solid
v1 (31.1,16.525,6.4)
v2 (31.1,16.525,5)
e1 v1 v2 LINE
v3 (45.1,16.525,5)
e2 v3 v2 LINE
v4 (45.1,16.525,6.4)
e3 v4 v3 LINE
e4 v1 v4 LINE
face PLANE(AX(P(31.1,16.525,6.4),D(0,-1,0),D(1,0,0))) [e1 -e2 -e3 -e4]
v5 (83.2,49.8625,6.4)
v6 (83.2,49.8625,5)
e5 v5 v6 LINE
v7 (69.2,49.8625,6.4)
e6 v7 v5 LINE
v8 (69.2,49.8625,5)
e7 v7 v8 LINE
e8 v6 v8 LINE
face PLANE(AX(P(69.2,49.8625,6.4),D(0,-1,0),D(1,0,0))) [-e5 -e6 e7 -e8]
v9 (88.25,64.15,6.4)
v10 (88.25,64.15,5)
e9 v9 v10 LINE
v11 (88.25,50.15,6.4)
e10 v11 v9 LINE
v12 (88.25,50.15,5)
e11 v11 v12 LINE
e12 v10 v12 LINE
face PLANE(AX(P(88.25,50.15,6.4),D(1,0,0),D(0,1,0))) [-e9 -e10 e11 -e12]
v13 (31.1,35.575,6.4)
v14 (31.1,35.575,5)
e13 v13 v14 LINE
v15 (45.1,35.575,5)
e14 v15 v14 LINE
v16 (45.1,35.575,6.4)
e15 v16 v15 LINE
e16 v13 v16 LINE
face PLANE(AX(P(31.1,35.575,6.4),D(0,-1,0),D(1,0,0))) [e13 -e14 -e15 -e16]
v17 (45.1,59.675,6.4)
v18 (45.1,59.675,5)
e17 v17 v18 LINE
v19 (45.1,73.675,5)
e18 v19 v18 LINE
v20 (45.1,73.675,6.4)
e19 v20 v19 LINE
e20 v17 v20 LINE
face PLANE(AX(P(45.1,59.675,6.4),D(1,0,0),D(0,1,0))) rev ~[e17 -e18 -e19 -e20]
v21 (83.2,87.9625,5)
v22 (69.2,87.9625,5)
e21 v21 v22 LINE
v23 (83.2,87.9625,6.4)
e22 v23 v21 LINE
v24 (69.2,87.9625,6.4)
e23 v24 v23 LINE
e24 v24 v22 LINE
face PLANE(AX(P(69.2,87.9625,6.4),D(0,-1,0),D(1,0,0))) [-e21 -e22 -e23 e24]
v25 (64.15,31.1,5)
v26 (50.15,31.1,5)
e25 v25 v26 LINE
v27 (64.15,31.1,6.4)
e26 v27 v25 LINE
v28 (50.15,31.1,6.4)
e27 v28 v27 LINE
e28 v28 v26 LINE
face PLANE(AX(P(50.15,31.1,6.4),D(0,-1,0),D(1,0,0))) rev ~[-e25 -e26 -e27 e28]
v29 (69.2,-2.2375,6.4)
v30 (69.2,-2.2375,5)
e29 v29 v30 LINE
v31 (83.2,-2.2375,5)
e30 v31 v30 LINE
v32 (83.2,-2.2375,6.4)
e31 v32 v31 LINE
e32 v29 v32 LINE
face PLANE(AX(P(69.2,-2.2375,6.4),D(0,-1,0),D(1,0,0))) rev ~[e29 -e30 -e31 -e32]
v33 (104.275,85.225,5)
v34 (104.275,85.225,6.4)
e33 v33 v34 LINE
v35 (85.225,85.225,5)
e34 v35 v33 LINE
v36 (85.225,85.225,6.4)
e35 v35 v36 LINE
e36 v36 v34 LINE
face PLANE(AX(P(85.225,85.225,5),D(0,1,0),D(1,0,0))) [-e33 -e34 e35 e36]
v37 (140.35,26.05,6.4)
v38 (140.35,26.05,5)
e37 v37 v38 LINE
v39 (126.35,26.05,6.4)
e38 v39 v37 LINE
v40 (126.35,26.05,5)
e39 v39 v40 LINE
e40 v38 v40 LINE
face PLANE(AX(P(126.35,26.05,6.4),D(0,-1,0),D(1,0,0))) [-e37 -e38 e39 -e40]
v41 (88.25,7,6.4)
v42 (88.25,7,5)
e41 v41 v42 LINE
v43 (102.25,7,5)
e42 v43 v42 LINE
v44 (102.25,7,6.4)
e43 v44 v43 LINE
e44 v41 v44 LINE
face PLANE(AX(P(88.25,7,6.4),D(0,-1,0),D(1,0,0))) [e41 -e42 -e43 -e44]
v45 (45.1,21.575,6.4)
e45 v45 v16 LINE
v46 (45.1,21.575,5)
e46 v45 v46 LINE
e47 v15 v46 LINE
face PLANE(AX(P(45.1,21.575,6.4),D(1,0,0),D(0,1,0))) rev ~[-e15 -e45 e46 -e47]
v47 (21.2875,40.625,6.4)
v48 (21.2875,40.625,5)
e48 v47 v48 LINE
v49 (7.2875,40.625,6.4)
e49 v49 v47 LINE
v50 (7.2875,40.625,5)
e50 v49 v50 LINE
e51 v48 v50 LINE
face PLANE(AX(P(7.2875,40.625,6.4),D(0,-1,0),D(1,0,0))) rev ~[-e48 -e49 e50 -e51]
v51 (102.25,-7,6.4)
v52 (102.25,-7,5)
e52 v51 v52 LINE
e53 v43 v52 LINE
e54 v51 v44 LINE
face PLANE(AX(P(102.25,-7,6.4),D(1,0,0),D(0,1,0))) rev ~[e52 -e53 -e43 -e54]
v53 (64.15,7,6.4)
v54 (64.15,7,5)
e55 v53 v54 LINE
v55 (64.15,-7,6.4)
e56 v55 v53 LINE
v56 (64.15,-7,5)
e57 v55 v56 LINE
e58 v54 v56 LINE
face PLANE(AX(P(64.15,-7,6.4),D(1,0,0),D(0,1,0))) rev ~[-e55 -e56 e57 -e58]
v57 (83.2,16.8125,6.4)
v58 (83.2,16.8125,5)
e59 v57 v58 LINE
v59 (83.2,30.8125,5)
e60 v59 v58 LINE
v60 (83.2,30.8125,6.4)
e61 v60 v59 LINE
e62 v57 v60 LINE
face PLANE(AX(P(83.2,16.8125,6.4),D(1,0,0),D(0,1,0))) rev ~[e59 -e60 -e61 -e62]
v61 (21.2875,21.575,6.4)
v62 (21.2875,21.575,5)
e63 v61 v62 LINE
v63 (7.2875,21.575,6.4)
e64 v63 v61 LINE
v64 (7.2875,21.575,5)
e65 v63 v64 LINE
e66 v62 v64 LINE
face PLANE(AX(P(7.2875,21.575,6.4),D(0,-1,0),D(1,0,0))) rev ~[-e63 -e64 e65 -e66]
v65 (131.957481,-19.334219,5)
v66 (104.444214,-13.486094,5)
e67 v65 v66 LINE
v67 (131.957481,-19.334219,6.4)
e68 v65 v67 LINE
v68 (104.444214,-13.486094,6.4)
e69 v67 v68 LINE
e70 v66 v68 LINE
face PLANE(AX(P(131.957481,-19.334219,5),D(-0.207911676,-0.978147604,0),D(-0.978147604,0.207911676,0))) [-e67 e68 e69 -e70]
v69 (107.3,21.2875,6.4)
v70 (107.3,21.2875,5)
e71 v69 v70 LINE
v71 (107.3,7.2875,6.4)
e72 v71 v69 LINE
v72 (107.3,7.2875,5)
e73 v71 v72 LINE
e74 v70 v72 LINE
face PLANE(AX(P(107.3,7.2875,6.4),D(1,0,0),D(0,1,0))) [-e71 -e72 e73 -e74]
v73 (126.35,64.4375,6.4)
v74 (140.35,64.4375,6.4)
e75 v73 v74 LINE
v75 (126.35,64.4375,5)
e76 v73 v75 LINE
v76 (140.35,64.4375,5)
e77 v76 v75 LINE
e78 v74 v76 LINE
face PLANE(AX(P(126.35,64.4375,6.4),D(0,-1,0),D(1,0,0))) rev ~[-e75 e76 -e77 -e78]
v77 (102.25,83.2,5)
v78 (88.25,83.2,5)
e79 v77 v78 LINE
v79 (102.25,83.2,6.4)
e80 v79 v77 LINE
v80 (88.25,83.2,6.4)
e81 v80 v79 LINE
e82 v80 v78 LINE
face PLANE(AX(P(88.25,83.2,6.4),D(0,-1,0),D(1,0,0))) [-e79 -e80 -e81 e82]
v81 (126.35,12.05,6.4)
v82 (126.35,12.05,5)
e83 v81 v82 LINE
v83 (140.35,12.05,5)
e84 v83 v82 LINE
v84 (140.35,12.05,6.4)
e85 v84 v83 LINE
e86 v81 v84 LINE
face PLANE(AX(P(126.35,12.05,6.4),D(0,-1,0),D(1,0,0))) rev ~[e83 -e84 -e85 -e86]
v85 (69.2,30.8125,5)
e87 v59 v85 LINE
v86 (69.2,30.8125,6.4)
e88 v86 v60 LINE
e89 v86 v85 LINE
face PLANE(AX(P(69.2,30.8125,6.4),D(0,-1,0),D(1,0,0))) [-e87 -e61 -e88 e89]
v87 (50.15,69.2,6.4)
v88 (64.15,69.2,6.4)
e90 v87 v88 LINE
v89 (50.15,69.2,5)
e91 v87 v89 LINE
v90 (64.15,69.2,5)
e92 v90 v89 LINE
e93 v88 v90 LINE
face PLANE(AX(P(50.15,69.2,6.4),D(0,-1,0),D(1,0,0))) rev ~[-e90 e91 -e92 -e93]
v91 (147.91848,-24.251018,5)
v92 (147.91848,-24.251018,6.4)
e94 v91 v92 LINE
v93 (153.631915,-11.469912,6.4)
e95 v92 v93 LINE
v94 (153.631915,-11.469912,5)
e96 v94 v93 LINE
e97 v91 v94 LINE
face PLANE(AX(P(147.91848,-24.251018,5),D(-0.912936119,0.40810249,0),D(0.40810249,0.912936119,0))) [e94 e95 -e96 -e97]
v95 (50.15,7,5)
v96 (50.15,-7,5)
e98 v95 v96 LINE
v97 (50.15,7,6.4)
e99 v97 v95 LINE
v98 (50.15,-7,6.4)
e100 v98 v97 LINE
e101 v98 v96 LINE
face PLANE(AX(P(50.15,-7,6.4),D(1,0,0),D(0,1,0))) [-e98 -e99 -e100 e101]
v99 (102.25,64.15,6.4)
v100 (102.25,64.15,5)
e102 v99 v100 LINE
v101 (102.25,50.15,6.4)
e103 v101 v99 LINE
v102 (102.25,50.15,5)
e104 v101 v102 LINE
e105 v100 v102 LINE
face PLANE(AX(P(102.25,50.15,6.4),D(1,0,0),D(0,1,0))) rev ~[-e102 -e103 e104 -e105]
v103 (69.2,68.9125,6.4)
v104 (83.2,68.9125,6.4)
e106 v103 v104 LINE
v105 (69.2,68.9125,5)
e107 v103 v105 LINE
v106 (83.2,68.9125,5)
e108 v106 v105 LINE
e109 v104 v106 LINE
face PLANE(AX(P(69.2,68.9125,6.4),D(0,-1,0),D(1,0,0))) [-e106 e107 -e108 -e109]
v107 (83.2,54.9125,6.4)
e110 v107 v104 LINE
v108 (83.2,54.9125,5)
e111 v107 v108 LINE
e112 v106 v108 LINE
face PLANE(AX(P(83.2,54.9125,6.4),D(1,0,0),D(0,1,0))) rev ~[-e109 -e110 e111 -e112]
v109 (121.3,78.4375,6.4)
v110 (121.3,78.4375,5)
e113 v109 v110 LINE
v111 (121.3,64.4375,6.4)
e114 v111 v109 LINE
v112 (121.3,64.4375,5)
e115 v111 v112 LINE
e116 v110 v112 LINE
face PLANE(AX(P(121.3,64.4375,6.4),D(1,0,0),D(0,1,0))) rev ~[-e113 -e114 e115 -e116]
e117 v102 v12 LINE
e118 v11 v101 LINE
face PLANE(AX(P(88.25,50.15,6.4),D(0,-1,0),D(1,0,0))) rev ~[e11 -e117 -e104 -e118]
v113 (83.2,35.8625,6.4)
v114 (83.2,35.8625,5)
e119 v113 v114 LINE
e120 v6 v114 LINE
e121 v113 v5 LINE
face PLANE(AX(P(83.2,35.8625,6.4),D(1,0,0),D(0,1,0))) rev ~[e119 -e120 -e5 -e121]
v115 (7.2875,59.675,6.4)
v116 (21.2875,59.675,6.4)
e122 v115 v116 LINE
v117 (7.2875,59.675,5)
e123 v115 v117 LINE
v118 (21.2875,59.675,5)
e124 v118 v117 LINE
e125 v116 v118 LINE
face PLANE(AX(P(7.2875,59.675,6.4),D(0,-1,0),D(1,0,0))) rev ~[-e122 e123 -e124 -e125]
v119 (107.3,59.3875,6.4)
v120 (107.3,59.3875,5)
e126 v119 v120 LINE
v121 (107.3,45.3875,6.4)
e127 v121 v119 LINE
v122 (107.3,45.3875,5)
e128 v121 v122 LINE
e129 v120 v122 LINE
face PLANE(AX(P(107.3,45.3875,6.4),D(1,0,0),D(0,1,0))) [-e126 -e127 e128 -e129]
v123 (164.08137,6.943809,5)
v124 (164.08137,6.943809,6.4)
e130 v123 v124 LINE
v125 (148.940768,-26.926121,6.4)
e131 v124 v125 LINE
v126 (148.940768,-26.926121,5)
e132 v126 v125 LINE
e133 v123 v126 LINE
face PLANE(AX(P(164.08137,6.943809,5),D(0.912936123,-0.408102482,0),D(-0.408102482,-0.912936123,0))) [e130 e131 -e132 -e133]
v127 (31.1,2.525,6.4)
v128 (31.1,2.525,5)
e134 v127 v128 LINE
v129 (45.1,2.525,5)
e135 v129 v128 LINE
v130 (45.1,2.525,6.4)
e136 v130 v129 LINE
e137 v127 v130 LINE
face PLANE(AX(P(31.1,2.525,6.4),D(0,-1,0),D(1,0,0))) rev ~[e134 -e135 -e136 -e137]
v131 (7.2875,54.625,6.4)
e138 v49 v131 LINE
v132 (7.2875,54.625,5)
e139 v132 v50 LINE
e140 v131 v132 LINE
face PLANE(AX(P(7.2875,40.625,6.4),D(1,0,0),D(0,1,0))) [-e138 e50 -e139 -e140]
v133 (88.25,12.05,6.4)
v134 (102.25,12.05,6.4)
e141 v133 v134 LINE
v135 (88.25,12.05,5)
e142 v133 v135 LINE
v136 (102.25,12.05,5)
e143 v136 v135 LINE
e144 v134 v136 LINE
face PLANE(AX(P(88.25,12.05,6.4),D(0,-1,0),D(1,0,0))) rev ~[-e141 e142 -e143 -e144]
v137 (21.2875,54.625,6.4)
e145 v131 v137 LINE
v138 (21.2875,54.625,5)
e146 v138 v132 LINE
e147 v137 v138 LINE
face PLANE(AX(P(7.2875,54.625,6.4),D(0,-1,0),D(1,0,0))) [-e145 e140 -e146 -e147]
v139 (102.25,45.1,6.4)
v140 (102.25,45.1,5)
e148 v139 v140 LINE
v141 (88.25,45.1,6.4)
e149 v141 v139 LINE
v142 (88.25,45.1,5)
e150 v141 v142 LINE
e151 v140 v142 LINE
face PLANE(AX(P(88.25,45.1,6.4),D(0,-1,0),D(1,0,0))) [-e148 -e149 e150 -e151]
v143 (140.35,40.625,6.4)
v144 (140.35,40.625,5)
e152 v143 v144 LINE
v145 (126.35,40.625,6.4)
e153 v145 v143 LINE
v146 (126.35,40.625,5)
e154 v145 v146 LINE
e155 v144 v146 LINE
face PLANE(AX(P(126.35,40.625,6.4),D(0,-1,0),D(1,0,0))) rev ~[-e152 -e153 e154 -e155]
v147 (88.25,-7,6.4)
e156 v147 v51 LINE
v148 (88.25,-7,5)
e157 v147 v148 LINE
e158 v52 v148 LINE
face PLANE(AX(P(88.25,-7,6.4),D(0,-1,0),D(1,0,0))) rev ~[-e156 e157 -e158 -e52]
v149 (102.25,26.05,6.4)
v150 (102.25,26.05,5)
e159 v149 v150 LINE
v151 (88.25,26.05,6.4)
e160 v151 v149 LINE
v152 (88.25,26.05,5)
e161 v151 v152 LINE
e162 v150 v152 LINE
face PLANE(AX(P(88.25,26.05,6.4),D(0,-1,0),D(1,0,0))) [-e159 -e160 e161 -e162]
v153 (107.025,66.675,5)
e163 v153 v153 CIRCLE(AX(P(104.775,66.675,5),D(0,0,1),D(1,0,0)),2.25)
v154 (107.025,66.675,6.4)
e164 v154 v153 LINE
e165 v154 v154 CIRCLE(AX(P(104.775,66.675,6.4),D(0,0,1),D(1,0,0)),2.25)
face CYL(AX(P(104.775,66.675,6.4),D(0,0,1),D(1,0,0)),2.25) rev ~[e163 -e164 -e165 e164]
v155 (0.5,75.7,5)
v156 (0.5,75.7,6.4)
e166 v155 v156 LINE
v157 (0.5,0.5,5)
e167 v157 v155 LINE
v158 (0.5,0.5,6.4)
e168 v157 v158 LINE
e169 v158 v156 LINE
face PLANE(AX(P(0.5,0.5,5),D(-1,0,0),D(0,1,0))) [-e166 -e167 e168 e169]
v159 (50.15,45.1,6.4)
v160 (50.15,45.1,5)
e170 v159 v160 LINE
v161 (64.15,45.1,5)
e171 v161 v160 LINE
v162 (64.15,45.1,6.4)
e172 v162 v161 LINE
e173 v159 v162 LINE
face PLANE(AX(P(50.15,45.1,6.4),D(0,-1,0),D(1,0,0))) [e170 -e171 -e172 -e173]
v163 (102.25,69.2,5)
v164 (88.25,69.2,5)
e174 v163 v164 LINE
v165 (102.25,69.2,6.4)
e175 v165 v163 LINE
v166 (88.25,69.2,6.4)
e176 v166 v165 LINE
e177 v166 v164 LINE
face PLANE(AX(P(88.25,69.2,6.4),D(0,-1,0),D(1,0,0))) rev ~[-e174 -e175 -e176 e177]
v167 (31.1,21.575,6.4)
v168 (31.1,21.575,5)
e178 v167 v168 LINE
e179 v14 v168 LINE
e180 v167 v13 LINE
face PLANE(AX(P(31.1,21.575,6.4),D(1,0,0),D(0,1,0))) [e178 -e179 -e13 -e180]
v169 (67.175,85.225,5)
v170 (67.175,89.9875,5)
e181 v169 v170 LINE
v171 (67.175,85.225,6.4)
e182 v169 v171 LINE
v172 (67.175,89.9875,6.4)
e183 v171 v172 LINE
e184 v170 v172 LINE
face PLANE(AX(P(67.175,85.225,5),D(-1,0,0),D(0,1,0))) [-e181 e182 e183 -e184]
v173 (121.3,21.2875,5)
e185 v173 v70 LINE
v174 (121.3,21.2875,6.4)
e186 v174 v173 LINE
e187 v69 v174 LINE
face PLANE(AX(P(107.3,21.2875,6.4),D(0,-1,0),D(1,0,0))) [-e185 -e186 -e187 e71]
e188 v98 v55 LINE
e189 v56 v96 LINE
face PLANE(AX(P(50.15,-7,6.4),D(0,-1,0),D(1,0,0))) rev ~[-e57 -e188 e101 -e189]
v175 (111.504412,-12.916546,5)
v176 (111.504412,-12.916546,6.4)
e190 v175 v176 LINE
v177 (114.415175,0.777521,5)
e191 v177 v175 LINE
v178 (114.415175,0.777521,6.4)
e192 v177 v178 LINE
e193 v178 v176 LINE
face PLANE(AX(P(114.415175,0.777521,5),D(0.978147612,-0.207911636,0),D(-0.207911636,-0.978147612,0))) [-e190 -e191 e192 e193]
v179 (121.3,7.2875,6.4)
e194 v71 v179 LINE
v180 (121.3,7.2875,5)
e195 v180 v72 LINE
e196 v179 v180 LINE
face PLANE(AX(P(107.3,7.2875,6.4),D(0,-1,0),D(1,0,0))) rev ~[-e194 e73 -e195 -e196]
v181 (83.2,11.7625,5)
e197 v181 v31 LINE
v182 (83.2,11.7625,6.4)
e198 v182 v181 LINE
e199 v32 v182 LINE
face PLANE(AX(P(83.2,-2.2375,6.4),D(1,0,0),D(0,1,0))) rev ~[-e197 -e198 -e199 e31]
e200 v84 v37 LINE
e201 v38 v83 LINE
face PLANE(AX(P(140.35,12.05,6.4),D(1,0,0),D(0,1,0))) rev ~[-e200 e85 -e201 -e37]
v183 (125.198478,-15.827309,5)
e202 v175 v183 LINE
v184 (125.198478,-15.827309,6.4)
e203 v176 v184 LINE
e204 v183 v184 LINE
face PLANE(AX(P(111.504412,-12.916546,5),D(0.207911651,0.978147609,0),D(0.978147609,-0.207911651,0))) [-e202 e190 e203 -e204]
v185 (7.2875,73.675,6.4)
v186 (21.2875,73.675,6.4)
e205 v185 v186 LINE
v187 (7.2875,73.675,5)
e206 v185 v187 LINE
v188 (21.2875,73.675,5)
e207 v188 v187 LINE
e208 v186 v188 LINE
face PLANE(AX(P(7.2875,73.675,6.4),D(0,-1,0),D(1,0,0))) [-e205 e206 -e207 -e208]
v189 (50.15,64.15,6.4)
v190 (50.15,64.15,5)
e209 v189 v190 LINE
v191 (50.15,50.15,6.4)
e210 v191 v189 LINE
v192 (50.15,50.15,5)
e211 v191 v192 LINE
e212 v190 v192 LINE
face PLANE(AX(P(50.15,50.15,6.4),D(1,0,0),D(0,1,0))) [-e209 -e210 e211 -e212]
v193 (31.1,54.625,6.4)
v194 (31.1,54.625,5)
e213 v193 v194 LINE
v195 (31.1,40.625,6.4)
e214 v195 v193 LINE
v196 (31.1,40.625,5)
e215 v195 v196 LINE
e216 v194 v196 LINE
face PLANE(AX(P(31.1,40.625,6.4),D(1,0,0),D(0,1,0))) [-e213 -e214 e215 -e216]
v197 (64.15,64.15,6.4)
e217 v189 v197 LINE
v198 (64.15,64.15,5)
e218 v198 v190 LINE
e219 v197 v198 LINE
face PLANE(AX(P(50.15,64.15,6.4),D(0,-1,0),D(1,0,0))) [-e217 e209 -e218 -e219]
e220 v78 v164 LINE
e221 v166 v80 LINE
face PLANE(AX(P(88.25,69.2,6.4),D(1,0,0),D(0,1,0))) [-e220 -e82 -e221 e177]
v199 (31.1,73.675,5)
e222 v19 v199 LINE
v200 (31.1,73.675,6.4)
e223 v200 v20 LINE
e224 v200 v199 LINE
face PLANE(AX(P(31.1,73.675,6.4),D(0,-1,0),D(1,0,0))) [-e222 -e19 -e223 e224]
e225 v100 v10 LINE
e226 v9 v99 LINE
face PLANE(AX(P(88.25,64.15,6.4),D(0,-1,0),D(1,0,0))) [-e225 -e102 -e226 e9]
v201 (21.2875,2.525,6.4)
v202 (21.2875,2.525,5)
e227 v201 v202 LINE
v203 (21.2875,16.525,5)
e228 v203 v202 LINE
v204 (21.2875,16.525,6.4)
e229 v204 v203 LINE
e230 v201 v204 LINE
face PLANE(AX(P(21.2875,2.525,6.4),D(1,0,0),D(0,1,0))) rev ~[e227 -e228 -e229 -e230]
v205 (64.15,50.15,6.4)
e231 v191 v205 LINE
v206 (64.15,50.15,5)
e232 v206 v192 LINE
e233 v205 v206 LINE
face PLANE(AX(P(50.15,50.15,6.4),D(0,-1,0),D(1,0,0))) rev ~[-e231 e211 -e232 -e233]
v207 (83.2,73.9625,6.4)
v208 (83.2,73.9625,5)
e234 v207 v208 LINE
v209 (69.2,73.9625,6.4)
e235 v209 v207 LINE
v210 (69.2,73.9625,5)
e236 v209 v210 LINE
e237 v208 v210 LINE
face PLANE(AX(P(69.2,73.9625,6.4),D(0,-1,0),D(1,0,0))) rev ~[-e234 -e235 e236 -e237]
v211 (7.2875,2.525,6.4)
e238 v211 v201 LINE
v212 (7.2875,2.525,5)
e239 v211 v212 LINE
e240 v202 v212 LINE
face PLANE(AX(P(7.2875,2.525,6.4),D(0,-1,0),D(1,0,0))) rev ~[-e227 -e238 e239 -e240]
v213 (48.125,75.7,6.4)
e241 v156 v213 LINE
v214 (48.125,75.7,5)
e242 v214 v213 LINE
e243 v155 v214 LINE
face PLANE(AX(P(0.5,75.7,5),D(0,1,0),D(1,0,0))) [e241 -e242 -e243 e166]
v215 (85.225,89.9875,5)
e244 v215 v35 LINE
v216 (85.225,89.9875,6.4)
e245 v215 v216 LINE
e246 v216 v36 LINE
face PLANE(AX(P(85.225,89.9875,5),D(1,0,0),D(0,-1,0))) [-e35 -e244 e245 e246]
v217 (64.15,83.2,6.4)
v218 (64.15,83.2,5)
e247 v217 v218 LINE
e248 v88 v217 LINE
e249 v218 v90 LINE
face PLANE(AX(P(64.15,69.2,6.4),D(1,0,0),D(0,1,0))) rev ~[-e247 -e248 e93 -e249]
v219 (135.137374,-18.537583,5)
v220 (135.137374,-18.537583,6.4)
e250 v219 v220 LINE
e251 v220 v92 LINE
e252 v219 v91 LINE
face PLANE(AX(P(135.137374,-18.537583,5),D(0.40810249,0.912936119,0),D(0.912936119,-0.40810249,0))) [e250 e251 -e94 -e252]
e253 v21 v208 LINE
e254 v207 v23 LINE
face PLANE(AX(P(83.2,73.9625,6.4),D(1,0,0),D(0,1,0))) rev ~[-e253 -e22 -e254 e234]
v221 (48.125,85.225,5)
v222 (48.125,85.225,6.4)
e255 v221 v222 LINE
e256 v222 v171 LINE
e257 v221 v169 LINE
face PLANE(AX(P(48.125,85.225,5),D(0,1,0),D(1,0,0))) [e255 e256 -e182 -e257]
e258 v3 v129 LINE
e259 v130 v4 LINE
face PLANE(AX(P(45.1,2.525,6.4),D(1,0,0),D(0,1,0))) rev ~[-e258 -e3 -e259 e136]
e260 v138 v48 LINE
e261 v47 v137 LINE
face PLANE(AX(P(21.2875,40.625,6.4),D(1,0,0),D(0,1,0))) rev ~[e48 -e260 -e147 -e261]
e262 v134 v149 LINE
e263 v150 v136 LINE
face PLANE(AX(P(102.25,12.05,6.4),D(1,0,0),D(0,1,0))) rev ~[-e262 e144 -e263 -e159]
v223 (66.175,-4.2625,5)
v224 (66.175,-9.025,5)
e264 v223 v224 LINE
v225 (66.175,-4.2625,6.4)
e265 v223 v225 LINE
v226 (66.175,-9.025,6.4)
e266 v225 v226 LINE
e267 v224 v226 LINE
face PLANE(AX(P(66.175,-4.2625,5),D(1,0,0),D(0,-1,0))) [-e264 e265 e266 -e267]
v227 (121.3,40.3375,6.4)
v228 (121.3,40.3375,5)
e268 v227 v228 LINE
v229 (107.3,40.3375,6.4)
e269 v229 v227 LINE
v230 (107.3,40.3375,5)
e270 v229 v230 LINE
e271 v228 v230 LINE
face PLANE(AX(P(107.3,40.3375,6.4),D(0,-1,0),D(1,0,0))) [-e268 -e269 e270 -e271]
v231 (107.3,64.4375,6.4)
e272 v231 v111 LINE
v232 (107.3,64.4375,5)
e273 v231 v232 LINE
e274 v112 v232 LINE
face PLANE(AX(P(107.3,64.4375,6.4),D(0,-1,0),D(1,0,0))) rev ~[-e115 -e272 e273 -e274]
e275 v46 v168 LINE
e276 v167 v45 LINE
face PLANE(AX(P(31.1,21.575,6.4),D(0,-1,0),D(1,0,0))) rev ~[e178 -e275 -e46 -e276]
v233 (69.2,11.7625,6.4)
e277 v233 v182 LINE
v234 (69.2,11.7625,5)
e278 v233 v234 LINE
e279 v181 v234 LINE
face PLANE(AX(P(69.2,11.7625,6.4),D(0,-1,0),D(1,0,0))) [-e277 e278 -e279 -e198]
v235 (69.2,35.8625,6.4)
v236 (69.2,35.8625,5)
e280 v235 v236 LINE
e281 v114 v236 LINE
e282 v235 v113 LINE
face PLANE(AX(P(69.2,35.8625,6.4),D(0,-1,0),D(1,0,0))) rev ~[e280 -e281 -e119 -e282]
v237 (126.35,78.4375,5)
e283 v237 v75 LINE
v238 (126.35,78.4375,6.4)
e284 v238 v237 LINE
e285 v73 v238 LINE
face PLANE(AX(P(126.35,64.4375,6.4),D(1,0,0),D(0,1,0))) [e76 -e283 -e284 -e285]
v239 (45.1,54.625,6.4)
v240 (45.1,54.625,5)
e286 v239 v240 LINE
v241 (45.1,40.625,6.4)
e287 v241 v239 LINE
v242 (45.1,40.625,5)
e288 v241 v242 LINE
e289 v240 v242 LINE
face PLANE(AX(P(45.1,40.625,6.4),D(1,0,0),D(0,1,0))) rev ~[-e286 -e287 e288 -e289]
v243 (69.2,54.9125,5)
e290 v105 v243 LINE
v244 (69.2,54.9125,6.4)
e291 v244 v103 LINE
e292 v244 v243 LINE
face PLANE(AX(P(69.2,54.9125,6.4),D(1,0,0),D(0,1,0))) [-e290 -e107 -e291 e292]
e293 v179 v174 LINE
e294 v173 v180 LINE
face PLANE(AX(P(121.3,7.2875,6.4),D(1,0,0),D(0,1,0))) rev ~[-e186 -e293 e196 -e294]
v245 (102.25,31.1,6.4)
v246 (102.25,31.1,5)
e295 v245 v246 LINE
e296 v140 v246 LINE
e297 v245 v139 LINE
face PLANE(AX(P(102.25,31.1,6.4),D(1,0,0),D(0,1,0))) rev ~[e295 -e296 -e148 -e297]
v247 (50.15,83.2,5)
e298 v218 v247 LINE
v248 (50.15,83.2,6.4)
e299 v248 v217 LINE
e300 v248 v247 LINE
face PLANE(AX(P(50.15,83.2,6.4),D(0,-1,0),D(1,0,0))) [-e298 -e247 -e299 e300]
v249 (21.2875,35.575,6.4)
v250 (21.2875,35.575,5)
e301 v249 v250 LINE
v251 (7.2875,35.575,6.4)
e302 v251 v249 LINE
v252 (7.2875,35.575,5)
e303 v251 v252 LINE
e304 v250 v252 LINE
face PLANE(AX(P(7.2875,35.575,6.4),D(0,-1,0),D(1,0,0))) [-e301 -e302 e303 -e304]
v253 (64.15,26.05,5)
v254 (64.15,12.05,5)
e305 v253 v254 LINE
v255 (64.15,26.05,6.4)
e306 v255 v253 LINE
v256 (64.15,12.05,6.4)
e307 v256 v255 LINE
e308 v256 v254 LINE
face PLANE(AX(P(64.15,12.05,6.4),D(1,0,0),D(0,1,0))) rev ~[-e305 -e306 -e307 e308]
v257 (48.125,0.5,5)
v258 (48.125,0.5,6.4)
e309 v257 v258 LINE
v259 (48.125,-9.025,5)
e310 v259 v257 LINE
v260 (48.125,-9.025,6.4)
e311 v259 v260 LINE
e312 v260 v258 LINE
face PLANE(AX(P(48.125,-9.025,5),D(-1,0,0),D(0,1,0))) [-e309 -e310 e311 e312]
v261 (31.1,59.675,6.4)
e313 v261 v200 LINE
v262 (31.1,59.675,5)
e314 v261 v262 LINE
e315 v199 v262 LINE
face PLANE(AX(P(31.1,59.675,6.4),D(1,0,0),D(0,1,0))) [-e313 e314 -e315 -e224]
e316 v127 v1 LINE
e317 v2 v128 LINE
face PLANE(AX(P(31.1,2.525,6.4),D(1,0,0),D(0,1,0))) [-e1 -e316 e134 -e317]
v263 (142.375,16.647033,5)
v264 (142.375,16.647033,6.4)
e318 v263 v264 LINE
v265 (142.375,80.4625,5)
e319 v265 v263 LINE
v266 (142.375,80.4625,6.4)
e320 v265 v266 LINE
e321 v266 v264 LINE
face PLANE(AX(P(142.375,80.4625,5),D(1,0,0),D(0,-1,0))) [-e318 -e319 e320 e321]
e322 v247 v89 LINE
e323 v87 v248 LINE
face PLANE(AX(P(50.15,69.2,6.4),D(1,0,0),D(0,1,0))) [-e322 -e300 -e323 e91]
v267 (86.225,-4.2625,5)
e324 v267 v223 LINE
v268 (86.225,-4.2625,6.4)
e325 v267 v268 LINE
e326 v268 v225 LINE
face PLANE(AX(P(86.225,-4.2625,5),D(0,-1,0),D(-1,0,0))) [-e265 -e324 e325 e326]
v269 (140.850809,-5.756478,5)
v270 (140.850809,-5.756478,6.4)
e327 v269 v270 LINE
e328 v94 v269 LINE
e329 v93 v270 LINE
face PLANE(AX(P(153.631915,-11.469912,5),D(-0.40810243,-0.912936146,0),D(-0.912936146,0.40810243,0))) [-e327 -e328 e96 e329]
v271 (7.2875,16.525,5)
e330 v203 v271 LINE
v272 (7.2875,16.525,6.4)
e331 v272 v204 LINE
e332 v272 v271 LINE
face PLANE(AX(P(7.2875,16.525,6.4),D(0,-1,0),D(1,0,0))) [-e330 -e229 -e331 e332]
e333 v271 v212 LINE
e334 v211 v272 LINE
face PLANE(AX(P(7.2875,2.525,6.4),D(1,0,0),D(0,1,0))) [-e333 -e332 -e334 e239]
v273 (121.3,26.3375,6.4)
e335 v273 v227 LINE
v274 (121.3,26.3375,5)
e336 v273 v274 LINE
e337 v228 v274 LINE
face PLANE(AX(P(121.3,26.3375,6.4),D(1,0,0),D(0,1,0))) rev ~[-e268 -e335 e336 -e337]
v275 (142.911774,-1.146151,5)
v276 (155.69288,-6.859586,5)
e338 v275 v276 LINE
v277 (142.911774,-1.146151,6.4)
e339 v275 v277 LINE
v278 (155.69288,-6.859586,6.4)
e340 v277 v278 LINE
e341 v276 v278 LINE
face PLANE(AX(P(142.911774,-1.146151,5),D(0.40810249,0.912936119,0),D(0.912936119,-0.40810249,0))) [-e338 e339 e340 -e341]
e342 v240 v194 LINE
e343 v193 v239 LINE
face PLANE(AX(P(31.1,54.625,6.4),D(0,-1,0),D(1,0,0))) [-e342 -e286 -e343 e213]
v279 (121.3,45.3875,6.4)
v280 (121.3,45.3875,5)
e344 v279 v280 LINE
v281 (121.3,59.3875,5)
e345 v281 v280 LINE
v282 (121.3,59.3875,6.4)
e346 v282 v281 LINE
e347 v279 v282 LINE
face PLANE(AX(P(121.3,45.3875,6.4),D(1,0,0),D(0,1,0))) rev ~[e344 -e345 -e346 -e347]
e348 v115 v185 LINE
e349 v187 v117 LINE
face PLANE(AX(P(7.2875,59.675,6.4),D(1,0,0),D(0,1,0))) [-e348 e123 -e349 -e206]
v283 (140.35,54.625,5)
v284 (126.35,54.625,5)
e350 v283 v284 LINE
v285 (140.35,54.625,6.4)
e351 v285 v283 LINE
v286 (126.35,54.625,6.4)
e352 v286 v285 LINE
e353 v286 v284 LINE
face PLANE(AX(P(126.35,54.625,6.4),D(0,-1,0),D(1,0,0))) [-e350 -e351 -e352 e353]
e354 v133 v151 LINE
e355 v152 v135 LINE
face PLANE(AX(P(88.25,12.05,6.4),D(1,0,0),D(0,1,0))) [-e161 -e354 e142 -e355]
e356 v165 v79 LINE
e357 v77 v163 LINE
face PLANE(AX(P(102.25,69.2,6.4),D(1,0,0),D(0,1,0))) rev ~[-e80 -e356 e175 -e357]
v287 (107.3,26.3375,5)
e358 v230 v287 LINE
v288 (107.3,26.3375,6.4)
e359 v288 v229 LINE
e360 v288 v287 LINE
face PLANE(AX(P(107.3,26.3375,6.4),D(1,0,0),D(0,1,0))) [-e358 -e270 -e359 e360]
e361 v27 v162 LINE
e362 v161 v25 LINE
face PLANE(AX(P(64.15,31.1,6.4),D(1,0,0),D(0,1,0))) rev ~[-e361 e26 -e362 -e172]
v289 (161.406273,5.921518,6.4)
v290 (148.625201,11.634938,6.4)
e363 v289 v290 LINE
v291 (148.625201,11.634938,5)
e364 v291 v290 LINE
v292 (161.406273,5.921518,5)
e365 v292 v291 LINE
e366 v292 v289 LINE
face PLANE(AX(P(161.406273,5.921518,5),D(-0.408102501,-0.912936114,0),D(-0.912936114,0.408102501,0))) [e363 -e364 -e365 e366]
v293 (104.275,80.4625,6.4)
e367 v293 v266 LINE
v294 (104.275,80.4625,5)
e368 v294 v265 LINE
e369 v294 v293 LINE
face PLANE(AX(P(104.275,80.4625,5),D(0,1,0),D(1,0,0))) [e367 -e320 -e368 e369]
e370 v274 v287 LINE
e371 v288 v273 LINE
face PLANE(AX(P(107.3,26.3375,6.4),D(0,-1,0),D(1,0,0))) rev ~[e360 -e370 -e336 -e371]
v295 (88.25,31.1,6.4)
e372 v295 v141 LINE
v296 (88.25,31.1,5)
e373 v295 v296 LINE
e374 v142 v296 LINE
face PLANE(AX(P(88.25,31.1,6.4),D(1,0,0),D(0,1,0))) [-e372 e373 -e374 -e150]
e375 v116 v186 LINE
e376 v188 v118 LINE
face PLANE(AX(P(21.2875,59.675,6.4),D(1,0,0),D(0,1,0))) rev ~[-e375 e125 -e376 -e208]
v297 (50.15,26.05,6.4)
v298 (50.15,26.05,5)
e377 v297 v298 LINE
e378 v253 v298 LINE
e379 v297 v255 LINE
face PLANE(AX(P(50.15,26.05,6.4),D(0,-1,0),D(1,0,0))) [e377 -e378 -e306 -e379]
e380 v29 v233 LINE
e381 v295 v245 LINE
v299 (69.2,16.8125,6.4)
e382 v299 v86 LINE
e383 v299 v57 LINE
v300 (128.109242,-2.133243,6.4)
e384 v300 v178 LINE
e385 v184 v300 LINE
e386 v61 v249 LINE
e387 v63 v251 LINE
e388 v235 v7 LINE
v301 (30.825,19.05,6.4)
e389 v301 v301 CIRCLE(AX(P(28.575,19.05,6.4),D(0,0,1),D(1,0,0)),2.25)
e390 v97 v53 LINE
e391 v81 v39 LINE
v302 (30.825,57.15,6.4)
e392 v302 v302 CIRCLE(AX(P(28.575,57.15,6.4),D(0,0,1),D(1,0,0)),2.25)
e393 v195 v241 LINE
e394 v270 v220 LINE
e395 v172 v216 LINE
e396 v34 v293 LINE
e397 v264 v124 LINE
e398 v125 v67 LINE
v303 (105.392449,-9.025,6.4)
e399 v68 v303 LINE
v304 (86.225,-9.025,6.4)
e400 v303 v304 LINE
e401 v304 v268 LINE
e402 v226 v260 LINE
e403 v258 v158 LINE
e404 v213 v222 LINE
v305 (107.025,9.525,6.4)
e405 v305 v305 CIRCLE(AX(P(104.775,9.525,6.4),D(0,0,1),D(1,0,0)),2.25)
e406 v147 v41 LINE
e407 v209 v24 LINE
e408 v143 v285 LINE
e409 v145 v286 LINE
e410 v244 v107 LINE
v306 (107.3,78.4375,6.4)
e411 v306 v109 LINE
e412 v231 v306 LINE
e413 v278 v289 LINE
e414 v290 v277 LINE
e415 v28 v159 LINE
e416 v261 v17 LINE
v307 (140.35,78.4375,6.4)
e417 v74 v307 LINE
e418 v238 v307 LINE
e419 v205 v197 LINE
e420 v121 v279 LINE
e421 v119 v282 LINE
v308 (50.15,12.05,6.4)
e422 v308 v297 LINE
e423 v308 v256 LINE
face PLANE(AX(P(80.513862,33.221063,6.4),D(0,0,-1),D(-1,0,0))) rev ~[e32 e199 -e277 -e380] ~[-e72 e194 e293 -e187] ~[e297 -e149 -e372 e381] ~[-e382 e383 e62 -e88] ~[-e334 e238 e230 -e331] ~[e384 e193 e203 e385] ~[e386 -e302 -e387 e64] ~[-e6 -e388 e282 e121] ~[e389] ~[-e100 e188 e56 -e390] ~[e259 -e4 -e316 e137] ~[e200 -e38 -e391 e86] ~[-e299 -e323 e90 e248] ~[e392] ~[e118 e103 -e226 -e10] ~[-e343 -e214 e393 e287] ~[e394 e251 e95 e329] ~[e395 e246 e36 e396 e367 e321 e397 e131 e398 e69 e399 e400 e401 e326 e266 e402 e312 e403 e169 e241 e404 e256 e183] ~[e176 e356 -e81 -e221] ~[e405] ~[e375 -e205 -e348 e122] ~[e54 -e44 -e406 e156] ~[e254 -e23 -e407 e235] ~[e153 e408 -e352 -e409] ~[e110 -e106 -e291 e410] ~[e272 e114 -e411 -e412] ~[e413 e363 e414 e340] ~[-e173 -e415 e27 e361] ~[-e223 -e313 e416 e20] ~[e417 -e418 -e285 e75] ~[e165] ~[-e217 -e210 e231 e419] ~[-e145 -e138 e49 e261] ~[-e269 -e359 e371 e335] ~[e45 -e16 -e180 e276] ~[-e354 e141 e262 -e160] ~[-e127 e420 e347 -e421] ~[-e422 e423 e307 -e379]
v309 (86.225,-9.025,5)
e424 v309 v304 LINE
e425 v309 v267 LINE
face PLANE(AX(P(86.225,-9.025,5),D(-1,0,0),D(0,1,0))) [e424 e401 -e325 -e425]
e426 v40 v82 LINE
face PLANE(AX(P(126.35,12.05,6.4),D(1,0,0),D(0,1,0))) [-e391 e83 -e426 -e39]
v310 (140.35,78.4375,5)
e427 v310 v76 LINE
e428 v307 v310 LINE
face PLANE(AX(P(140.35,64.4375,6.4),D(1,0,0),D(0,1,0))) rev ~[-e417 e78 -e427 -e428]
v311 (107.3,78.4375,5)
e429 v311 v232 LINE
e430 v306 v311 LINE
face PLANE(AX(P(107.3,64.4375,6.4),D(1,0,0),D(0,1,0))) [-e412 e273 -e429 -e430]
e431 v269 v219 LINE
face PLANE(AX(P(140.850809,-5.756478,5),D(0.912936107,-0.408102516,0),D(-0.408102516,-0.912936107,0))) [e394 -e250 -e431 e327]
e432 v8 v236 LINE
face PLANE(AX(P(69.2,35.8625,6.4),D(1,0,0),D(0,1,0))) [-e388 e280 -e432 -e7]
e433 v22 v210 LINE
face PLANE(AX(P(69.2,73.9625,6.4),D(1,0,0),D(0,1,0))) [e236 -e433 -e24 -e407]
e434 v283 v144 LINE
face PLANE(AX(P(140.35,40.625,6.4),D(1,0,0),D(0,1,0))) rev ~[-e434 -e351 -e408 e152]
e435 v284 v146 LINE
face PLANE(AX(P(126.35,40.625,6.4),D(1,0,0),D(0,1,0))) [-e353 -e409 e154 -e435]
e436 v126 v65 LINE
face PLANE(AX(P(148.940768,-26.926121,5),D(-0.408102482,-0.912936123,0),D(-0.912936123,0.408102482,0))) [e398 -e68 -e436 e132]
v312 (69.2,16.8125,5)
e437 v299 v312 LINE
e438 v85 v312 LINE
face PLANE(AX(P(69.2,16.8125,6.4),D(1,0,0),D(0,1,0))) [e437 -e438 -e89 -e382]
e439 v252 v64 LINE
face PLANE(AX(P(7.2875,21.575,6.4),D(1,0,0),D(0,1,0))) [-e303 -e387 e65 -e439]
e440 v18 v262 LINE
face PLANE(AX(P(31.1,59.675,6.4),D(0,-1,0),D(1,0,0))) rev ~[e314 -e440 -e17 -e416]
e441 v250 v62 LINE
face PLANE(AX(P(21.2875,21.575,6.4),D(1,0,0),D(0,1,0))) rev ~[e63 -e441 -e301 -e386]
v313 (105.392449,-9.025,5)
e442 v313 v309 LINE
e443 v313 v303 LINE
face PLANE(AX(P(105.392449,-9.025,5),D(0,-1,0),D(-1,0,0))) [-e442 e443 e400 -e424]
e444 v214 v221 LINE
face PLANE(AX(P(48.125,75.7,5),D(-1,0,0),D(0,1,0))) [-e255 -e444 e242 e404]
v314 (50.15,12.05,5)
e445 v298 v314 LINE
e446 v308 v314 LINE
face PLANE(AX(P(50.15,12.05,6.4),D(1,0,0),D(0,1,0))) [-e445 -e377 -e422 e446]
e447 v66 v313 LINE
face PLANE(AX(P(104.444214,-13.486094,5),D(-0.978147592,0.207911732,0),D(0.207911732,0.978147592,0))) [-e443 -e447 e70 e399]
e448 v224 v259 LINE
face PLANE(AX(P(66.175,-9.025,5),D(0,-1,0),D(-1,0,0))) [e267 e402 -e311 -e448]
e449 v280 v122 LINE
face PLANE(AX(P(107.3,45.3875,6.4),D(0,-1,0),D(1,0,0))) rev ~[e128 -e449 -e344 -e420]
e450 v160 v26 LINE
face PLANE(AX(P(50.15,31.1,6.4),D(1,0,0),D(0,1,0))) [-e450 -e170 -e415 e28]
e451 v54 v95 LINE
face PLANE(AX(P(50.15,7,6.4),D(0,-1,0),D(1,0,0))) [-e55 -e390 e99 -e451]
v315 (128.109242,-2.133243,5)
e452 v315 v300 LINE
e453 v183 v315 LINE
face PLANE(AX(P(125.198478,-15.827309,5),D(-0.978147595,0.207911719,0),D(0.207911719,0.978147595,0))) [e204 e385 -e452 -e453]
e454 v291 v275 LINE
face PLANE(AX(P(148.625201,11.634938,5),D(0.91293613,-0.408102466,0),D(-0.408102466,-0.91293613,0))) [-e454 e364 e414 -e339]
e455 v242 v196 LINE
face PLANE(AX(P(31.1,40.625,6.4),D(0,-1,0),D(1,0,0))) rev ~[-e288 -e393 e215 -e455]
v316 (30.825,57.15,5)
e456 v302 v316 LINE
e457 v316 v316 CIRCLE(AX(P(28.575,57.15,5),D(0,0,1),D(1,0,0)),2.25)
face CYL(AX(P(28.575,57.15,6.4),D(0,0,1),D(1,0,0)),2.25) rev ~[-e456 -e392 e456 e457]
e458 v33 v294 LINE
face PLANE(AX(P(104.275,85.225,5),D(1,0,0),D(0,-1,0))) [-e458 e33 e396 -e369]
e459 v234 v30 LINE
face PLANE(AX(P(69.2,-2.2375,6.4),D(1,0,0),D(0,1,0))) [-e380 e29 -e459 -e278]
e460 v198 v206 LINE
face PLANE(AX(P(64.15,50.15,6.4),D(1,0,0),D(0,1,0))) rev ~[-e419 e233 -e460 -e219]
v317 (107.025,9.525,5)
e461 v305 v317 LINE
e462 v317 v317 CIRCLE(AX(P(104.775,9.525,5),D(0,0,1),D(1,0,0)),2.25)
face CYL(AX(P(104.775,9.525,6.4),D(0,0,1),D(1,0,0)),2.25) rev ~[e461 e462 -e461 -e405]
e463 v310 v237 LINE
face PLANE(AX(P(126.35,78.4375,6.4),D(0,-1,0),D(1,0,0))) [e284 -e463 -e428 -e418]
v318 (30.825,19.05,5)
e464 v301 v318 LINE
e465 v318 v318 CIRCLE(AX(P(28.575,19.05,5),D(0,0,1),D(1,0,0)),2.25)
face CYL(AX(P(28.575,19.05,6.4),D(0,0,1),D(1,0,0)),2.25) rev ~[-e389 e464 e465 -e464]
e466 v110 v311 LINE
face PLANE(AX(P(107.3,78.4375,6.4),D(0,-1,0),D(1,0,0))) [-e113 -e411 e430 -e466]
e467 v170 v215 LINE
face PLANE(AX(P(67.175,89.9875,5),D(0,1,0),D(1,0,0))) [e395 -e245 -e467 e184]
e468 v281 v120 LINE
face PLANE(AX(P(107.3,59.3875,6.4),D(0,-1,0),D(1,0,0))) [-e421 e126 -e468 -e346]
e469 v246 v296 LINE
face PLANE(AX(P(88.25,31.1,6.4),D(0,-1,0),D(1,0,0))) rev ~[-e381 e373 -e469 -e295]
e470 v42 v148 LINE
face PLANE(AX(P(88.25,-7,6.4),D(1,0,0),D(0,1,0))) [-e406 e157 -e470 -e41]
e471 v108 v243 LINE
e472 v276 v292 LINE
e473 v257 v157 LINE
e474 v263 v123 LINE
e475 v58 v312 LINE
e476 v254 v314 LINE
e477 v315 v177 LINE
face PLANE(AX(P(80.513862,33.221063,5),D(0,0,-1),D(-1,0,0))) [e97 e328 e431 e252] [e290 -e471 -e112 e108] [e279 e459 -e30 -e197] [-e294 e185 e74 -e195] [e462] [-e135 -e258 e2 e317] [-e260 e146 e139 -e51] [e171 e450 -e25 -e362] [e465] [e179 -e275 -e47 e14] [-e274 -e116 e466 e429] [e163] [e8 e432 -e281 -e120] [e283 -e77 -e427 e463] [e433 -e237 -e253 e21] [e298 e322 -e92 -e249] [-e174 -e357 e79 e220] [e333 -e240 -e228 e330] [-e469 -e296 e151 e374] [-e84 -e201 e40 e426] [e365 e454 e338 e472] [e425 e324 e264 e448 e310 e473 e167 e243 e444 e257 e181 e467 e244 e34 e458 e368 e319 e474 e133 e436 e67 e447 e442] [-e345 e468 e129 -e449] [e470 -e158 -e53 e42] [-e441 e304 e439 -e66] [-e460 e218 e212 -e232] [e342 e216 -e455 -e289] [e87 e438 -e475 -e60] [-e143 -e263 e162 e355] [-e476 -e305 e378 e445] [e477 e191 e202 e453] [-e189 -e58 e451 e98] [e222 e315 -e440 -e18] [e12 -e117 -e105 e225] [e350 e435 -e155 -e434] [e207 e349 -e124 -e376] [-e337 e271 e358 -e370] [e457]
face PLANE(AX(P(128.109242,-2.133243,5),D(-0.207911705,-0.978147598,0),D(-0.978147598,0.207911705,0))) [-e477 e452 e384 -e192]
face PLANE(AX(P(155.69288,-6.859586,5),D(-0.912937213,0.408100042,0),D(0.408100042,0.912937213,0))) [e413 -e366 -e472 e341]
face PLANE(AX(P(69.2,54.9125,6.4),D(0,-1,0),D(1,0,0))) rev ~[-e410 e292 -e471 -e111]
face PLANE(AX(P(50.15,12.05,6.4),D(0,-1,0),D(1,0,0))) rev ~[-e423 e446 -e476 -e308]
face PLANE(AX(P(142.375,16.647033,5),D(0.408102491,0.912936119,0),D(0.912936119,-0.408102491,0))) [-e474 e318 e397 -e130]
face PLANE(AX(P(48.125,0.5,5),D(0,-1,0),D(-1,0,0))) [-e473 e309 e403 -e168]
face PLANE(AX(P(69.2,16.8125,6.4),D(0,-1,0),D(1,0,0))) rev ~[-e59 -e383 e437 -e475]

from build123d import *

# Parameters (mm, degrees)
PAD001_DEPTH    = 1.4
SKETCH012_R     = 2.25
POCKET_DEPTH    = 5
SKETCH011_W     = 14
SKETCH011_H     = 14
POCKET005_DEPTH = 5


with BuildPart() as part:
    # Sketch002 → Pad001 (new body)
    with BuildSketch(Plane.XY):
        Polygon((0.5, 75.7), (48.125, 75.7), (48.125, 85.225), (67.175, 85.225), (67.175, 89.9875), (85.225, 89.9875), (85.225, 85.225), (104.275, 85.225), (104.275, 80.4625), (142.375, 80.4625), (142.375, 16.647033), (164.08137, 6.943809), (148.940768, -26.926121), (131.957481, -19.334219), (104.444214, -13.486094), (105.392449, -9.025), (86.225, -9.025), (86.225, -4.2625), (66.175, -4.2625), (66.175, -9.025), (48.125, -9.025), (48.125, 0.5), (0.5, 0.5), align=None)
        Polygon((111.504412, -12.916546), (125.198478, -15.827309), (128.109242, -2.133243), (114.415175, 0.777521), align=None, mode=Mode.SUBTRACT)
        Polygon((135.137374, -18.537583), (147.91848, -24.251018), (153.631915, -11.469912), (140.850809, -5.756478), align=None, mode=Mode.SUBTRACT)
        Polygon((142.911774, -1.146151), (155.69288, -6.859586), (161.406273, 5.921518), (148.625201, 11.634938), align=None, mode=Mode.SUBTRACT)
    extrude(amount=PAD001_DEPTH)

    # Sketch012 (on Face37 of Pad001) → Pocket (cut)
    with BuildSketch(Plane.XY.offset(1.4)):
        with Locations((28.575, 57.15)):
            Circle(SKETCH012_R)
        with Locations((28.575, 19.05)):
            Circle(SKETCH012_R)
        with Locations((104.775, 66.675)):
            Circle(SKETCH012_R)
        with Locations((104.775, 9.525)):
            Circle(SKETCH012_R)
    extrude(amount=-POCKET_DEPTH, mode=Mode.SUBTRACT)

    # Sketch011 (on Face37 of Pad001) → Pocket005 (cut)
    with BuildSketch(Plane.XY.offset(1.4)):
        with Locations((14.2875, 9.525)):
            Rectangle(SKETCH011_W, SKETCH011_H)
        with Locations((14.2875, 28.575)):
            Rectangle(SKETCH011_W, SKETCH011_H)
        with Locations((14.2875, 47.625)):
            Rectangle(SKETCH011_W, SKETCH011_H)
        with Locations((14.2875, 66.675)):
            Rectangle(SKETCH011_W, SKETCH011_H)
        with Locations((38.1, 9.525)):
            Rectangle(SKETCH011_W, SKETCH011_H)
        with Locations((38.1, 28.575)):
            Rectangle(SKETCH011_W, SKETCH011_H)
        with Locations((38.1, 47.625)):
            Rectangle(SKETCH011_W, SKETCH011_H)
        with Locations((38.1, 66.675)):
            Rectangle(SKETCH011_W, SKETCH011_H)
        with Locations((57.15, 0)):
            Rectangle(SKETCH011_W, SKETCH011_H)
        with Locations((57.15, 19.05)):
            Rectangle(SKETCH011_W, SKETCH011_H)
        with Locations((57.15, 38.1)):
            Rectangle(SKETCH011_W, SKETCH011_H)
        with Locations((57.15, 57.15)):
            Rectangle(SKETCH011_W, SKETCH011_H)
        with Locations((57.15, 76.2)):
            Rectangle(SKETCH011_W, SKETCH011_H)
        with Locations((76.2, 4.7625)):
            Rectangle(SKETCH011_W, SKETCH011_H)
        with Locations((76.2, 23.8125)):
            Rectangle(SKETCH011_W, SKETCH011_H)
        with Locations((76.2, 42.8625)):
            Rectangle(SKETCH011_W, SKETCH011_H)
        with Locations((76.2, 61.9125)):
            Rectangle(SKETCH011_W, SKETCH011_H)
        with Locations((76.2, 80.9625)):
            Rectangle(SKETCH011_W, SKETCH011_H)
        with Locations((95.25, 0)):
            Rectangle(SKETCH011_W, SKETCH011_H)
        with Locations((95.25, 19.05)):
            Rectangle(SKETCH011_W, SKETCH011_H)
        with Locations((95.25, 38.1)):
            Rectangle(SKETCH011_W, SKETCH011_H)
        with Locations((95.25, 57.15)):
            Rectangle(SKETCH011_W, SKETCH011_H)
        with Locations((95.25, 76.2)):
            Rectangle(SKETCH011_W, SKETCH011_H)
        with Locations((114.3, 14.2875)):
            Rectangle(SKETCH011_W, SKETCH011_H)
        with Locations((114.3, 33.3375)):
            Rectangle(SKETCH011_W, SKETCH011_H)
        with Locations((114.3, 52.3875)):
            Rectangle(SKETCH011_W, SKETCH011_H)
        with Locations((114.3, 71.4375)):
            Rectangle(SKETCH011_W, SKETCH011_H)
        with Locations((133.35, 19.05)):
            Rectangle(SKETCH011_W, SKETCH011_H)
        with Locations((133.35, 47.625)):
            Rectangle(SKETCH011_W, SKETCH011_H)
        with Locations((133.35, 71.4375)):
            Rectangle(SKETCH011_W, SKETCH011_H)
    extrude(amount=-POCKET005_DEPTH, mode=Mode.SUBTRACT)


with BuildPart() as part_1:
    # Body001 placement: moved
    add(part.part.moved(Location((0, 0, 5))))


solid = part_1.part
